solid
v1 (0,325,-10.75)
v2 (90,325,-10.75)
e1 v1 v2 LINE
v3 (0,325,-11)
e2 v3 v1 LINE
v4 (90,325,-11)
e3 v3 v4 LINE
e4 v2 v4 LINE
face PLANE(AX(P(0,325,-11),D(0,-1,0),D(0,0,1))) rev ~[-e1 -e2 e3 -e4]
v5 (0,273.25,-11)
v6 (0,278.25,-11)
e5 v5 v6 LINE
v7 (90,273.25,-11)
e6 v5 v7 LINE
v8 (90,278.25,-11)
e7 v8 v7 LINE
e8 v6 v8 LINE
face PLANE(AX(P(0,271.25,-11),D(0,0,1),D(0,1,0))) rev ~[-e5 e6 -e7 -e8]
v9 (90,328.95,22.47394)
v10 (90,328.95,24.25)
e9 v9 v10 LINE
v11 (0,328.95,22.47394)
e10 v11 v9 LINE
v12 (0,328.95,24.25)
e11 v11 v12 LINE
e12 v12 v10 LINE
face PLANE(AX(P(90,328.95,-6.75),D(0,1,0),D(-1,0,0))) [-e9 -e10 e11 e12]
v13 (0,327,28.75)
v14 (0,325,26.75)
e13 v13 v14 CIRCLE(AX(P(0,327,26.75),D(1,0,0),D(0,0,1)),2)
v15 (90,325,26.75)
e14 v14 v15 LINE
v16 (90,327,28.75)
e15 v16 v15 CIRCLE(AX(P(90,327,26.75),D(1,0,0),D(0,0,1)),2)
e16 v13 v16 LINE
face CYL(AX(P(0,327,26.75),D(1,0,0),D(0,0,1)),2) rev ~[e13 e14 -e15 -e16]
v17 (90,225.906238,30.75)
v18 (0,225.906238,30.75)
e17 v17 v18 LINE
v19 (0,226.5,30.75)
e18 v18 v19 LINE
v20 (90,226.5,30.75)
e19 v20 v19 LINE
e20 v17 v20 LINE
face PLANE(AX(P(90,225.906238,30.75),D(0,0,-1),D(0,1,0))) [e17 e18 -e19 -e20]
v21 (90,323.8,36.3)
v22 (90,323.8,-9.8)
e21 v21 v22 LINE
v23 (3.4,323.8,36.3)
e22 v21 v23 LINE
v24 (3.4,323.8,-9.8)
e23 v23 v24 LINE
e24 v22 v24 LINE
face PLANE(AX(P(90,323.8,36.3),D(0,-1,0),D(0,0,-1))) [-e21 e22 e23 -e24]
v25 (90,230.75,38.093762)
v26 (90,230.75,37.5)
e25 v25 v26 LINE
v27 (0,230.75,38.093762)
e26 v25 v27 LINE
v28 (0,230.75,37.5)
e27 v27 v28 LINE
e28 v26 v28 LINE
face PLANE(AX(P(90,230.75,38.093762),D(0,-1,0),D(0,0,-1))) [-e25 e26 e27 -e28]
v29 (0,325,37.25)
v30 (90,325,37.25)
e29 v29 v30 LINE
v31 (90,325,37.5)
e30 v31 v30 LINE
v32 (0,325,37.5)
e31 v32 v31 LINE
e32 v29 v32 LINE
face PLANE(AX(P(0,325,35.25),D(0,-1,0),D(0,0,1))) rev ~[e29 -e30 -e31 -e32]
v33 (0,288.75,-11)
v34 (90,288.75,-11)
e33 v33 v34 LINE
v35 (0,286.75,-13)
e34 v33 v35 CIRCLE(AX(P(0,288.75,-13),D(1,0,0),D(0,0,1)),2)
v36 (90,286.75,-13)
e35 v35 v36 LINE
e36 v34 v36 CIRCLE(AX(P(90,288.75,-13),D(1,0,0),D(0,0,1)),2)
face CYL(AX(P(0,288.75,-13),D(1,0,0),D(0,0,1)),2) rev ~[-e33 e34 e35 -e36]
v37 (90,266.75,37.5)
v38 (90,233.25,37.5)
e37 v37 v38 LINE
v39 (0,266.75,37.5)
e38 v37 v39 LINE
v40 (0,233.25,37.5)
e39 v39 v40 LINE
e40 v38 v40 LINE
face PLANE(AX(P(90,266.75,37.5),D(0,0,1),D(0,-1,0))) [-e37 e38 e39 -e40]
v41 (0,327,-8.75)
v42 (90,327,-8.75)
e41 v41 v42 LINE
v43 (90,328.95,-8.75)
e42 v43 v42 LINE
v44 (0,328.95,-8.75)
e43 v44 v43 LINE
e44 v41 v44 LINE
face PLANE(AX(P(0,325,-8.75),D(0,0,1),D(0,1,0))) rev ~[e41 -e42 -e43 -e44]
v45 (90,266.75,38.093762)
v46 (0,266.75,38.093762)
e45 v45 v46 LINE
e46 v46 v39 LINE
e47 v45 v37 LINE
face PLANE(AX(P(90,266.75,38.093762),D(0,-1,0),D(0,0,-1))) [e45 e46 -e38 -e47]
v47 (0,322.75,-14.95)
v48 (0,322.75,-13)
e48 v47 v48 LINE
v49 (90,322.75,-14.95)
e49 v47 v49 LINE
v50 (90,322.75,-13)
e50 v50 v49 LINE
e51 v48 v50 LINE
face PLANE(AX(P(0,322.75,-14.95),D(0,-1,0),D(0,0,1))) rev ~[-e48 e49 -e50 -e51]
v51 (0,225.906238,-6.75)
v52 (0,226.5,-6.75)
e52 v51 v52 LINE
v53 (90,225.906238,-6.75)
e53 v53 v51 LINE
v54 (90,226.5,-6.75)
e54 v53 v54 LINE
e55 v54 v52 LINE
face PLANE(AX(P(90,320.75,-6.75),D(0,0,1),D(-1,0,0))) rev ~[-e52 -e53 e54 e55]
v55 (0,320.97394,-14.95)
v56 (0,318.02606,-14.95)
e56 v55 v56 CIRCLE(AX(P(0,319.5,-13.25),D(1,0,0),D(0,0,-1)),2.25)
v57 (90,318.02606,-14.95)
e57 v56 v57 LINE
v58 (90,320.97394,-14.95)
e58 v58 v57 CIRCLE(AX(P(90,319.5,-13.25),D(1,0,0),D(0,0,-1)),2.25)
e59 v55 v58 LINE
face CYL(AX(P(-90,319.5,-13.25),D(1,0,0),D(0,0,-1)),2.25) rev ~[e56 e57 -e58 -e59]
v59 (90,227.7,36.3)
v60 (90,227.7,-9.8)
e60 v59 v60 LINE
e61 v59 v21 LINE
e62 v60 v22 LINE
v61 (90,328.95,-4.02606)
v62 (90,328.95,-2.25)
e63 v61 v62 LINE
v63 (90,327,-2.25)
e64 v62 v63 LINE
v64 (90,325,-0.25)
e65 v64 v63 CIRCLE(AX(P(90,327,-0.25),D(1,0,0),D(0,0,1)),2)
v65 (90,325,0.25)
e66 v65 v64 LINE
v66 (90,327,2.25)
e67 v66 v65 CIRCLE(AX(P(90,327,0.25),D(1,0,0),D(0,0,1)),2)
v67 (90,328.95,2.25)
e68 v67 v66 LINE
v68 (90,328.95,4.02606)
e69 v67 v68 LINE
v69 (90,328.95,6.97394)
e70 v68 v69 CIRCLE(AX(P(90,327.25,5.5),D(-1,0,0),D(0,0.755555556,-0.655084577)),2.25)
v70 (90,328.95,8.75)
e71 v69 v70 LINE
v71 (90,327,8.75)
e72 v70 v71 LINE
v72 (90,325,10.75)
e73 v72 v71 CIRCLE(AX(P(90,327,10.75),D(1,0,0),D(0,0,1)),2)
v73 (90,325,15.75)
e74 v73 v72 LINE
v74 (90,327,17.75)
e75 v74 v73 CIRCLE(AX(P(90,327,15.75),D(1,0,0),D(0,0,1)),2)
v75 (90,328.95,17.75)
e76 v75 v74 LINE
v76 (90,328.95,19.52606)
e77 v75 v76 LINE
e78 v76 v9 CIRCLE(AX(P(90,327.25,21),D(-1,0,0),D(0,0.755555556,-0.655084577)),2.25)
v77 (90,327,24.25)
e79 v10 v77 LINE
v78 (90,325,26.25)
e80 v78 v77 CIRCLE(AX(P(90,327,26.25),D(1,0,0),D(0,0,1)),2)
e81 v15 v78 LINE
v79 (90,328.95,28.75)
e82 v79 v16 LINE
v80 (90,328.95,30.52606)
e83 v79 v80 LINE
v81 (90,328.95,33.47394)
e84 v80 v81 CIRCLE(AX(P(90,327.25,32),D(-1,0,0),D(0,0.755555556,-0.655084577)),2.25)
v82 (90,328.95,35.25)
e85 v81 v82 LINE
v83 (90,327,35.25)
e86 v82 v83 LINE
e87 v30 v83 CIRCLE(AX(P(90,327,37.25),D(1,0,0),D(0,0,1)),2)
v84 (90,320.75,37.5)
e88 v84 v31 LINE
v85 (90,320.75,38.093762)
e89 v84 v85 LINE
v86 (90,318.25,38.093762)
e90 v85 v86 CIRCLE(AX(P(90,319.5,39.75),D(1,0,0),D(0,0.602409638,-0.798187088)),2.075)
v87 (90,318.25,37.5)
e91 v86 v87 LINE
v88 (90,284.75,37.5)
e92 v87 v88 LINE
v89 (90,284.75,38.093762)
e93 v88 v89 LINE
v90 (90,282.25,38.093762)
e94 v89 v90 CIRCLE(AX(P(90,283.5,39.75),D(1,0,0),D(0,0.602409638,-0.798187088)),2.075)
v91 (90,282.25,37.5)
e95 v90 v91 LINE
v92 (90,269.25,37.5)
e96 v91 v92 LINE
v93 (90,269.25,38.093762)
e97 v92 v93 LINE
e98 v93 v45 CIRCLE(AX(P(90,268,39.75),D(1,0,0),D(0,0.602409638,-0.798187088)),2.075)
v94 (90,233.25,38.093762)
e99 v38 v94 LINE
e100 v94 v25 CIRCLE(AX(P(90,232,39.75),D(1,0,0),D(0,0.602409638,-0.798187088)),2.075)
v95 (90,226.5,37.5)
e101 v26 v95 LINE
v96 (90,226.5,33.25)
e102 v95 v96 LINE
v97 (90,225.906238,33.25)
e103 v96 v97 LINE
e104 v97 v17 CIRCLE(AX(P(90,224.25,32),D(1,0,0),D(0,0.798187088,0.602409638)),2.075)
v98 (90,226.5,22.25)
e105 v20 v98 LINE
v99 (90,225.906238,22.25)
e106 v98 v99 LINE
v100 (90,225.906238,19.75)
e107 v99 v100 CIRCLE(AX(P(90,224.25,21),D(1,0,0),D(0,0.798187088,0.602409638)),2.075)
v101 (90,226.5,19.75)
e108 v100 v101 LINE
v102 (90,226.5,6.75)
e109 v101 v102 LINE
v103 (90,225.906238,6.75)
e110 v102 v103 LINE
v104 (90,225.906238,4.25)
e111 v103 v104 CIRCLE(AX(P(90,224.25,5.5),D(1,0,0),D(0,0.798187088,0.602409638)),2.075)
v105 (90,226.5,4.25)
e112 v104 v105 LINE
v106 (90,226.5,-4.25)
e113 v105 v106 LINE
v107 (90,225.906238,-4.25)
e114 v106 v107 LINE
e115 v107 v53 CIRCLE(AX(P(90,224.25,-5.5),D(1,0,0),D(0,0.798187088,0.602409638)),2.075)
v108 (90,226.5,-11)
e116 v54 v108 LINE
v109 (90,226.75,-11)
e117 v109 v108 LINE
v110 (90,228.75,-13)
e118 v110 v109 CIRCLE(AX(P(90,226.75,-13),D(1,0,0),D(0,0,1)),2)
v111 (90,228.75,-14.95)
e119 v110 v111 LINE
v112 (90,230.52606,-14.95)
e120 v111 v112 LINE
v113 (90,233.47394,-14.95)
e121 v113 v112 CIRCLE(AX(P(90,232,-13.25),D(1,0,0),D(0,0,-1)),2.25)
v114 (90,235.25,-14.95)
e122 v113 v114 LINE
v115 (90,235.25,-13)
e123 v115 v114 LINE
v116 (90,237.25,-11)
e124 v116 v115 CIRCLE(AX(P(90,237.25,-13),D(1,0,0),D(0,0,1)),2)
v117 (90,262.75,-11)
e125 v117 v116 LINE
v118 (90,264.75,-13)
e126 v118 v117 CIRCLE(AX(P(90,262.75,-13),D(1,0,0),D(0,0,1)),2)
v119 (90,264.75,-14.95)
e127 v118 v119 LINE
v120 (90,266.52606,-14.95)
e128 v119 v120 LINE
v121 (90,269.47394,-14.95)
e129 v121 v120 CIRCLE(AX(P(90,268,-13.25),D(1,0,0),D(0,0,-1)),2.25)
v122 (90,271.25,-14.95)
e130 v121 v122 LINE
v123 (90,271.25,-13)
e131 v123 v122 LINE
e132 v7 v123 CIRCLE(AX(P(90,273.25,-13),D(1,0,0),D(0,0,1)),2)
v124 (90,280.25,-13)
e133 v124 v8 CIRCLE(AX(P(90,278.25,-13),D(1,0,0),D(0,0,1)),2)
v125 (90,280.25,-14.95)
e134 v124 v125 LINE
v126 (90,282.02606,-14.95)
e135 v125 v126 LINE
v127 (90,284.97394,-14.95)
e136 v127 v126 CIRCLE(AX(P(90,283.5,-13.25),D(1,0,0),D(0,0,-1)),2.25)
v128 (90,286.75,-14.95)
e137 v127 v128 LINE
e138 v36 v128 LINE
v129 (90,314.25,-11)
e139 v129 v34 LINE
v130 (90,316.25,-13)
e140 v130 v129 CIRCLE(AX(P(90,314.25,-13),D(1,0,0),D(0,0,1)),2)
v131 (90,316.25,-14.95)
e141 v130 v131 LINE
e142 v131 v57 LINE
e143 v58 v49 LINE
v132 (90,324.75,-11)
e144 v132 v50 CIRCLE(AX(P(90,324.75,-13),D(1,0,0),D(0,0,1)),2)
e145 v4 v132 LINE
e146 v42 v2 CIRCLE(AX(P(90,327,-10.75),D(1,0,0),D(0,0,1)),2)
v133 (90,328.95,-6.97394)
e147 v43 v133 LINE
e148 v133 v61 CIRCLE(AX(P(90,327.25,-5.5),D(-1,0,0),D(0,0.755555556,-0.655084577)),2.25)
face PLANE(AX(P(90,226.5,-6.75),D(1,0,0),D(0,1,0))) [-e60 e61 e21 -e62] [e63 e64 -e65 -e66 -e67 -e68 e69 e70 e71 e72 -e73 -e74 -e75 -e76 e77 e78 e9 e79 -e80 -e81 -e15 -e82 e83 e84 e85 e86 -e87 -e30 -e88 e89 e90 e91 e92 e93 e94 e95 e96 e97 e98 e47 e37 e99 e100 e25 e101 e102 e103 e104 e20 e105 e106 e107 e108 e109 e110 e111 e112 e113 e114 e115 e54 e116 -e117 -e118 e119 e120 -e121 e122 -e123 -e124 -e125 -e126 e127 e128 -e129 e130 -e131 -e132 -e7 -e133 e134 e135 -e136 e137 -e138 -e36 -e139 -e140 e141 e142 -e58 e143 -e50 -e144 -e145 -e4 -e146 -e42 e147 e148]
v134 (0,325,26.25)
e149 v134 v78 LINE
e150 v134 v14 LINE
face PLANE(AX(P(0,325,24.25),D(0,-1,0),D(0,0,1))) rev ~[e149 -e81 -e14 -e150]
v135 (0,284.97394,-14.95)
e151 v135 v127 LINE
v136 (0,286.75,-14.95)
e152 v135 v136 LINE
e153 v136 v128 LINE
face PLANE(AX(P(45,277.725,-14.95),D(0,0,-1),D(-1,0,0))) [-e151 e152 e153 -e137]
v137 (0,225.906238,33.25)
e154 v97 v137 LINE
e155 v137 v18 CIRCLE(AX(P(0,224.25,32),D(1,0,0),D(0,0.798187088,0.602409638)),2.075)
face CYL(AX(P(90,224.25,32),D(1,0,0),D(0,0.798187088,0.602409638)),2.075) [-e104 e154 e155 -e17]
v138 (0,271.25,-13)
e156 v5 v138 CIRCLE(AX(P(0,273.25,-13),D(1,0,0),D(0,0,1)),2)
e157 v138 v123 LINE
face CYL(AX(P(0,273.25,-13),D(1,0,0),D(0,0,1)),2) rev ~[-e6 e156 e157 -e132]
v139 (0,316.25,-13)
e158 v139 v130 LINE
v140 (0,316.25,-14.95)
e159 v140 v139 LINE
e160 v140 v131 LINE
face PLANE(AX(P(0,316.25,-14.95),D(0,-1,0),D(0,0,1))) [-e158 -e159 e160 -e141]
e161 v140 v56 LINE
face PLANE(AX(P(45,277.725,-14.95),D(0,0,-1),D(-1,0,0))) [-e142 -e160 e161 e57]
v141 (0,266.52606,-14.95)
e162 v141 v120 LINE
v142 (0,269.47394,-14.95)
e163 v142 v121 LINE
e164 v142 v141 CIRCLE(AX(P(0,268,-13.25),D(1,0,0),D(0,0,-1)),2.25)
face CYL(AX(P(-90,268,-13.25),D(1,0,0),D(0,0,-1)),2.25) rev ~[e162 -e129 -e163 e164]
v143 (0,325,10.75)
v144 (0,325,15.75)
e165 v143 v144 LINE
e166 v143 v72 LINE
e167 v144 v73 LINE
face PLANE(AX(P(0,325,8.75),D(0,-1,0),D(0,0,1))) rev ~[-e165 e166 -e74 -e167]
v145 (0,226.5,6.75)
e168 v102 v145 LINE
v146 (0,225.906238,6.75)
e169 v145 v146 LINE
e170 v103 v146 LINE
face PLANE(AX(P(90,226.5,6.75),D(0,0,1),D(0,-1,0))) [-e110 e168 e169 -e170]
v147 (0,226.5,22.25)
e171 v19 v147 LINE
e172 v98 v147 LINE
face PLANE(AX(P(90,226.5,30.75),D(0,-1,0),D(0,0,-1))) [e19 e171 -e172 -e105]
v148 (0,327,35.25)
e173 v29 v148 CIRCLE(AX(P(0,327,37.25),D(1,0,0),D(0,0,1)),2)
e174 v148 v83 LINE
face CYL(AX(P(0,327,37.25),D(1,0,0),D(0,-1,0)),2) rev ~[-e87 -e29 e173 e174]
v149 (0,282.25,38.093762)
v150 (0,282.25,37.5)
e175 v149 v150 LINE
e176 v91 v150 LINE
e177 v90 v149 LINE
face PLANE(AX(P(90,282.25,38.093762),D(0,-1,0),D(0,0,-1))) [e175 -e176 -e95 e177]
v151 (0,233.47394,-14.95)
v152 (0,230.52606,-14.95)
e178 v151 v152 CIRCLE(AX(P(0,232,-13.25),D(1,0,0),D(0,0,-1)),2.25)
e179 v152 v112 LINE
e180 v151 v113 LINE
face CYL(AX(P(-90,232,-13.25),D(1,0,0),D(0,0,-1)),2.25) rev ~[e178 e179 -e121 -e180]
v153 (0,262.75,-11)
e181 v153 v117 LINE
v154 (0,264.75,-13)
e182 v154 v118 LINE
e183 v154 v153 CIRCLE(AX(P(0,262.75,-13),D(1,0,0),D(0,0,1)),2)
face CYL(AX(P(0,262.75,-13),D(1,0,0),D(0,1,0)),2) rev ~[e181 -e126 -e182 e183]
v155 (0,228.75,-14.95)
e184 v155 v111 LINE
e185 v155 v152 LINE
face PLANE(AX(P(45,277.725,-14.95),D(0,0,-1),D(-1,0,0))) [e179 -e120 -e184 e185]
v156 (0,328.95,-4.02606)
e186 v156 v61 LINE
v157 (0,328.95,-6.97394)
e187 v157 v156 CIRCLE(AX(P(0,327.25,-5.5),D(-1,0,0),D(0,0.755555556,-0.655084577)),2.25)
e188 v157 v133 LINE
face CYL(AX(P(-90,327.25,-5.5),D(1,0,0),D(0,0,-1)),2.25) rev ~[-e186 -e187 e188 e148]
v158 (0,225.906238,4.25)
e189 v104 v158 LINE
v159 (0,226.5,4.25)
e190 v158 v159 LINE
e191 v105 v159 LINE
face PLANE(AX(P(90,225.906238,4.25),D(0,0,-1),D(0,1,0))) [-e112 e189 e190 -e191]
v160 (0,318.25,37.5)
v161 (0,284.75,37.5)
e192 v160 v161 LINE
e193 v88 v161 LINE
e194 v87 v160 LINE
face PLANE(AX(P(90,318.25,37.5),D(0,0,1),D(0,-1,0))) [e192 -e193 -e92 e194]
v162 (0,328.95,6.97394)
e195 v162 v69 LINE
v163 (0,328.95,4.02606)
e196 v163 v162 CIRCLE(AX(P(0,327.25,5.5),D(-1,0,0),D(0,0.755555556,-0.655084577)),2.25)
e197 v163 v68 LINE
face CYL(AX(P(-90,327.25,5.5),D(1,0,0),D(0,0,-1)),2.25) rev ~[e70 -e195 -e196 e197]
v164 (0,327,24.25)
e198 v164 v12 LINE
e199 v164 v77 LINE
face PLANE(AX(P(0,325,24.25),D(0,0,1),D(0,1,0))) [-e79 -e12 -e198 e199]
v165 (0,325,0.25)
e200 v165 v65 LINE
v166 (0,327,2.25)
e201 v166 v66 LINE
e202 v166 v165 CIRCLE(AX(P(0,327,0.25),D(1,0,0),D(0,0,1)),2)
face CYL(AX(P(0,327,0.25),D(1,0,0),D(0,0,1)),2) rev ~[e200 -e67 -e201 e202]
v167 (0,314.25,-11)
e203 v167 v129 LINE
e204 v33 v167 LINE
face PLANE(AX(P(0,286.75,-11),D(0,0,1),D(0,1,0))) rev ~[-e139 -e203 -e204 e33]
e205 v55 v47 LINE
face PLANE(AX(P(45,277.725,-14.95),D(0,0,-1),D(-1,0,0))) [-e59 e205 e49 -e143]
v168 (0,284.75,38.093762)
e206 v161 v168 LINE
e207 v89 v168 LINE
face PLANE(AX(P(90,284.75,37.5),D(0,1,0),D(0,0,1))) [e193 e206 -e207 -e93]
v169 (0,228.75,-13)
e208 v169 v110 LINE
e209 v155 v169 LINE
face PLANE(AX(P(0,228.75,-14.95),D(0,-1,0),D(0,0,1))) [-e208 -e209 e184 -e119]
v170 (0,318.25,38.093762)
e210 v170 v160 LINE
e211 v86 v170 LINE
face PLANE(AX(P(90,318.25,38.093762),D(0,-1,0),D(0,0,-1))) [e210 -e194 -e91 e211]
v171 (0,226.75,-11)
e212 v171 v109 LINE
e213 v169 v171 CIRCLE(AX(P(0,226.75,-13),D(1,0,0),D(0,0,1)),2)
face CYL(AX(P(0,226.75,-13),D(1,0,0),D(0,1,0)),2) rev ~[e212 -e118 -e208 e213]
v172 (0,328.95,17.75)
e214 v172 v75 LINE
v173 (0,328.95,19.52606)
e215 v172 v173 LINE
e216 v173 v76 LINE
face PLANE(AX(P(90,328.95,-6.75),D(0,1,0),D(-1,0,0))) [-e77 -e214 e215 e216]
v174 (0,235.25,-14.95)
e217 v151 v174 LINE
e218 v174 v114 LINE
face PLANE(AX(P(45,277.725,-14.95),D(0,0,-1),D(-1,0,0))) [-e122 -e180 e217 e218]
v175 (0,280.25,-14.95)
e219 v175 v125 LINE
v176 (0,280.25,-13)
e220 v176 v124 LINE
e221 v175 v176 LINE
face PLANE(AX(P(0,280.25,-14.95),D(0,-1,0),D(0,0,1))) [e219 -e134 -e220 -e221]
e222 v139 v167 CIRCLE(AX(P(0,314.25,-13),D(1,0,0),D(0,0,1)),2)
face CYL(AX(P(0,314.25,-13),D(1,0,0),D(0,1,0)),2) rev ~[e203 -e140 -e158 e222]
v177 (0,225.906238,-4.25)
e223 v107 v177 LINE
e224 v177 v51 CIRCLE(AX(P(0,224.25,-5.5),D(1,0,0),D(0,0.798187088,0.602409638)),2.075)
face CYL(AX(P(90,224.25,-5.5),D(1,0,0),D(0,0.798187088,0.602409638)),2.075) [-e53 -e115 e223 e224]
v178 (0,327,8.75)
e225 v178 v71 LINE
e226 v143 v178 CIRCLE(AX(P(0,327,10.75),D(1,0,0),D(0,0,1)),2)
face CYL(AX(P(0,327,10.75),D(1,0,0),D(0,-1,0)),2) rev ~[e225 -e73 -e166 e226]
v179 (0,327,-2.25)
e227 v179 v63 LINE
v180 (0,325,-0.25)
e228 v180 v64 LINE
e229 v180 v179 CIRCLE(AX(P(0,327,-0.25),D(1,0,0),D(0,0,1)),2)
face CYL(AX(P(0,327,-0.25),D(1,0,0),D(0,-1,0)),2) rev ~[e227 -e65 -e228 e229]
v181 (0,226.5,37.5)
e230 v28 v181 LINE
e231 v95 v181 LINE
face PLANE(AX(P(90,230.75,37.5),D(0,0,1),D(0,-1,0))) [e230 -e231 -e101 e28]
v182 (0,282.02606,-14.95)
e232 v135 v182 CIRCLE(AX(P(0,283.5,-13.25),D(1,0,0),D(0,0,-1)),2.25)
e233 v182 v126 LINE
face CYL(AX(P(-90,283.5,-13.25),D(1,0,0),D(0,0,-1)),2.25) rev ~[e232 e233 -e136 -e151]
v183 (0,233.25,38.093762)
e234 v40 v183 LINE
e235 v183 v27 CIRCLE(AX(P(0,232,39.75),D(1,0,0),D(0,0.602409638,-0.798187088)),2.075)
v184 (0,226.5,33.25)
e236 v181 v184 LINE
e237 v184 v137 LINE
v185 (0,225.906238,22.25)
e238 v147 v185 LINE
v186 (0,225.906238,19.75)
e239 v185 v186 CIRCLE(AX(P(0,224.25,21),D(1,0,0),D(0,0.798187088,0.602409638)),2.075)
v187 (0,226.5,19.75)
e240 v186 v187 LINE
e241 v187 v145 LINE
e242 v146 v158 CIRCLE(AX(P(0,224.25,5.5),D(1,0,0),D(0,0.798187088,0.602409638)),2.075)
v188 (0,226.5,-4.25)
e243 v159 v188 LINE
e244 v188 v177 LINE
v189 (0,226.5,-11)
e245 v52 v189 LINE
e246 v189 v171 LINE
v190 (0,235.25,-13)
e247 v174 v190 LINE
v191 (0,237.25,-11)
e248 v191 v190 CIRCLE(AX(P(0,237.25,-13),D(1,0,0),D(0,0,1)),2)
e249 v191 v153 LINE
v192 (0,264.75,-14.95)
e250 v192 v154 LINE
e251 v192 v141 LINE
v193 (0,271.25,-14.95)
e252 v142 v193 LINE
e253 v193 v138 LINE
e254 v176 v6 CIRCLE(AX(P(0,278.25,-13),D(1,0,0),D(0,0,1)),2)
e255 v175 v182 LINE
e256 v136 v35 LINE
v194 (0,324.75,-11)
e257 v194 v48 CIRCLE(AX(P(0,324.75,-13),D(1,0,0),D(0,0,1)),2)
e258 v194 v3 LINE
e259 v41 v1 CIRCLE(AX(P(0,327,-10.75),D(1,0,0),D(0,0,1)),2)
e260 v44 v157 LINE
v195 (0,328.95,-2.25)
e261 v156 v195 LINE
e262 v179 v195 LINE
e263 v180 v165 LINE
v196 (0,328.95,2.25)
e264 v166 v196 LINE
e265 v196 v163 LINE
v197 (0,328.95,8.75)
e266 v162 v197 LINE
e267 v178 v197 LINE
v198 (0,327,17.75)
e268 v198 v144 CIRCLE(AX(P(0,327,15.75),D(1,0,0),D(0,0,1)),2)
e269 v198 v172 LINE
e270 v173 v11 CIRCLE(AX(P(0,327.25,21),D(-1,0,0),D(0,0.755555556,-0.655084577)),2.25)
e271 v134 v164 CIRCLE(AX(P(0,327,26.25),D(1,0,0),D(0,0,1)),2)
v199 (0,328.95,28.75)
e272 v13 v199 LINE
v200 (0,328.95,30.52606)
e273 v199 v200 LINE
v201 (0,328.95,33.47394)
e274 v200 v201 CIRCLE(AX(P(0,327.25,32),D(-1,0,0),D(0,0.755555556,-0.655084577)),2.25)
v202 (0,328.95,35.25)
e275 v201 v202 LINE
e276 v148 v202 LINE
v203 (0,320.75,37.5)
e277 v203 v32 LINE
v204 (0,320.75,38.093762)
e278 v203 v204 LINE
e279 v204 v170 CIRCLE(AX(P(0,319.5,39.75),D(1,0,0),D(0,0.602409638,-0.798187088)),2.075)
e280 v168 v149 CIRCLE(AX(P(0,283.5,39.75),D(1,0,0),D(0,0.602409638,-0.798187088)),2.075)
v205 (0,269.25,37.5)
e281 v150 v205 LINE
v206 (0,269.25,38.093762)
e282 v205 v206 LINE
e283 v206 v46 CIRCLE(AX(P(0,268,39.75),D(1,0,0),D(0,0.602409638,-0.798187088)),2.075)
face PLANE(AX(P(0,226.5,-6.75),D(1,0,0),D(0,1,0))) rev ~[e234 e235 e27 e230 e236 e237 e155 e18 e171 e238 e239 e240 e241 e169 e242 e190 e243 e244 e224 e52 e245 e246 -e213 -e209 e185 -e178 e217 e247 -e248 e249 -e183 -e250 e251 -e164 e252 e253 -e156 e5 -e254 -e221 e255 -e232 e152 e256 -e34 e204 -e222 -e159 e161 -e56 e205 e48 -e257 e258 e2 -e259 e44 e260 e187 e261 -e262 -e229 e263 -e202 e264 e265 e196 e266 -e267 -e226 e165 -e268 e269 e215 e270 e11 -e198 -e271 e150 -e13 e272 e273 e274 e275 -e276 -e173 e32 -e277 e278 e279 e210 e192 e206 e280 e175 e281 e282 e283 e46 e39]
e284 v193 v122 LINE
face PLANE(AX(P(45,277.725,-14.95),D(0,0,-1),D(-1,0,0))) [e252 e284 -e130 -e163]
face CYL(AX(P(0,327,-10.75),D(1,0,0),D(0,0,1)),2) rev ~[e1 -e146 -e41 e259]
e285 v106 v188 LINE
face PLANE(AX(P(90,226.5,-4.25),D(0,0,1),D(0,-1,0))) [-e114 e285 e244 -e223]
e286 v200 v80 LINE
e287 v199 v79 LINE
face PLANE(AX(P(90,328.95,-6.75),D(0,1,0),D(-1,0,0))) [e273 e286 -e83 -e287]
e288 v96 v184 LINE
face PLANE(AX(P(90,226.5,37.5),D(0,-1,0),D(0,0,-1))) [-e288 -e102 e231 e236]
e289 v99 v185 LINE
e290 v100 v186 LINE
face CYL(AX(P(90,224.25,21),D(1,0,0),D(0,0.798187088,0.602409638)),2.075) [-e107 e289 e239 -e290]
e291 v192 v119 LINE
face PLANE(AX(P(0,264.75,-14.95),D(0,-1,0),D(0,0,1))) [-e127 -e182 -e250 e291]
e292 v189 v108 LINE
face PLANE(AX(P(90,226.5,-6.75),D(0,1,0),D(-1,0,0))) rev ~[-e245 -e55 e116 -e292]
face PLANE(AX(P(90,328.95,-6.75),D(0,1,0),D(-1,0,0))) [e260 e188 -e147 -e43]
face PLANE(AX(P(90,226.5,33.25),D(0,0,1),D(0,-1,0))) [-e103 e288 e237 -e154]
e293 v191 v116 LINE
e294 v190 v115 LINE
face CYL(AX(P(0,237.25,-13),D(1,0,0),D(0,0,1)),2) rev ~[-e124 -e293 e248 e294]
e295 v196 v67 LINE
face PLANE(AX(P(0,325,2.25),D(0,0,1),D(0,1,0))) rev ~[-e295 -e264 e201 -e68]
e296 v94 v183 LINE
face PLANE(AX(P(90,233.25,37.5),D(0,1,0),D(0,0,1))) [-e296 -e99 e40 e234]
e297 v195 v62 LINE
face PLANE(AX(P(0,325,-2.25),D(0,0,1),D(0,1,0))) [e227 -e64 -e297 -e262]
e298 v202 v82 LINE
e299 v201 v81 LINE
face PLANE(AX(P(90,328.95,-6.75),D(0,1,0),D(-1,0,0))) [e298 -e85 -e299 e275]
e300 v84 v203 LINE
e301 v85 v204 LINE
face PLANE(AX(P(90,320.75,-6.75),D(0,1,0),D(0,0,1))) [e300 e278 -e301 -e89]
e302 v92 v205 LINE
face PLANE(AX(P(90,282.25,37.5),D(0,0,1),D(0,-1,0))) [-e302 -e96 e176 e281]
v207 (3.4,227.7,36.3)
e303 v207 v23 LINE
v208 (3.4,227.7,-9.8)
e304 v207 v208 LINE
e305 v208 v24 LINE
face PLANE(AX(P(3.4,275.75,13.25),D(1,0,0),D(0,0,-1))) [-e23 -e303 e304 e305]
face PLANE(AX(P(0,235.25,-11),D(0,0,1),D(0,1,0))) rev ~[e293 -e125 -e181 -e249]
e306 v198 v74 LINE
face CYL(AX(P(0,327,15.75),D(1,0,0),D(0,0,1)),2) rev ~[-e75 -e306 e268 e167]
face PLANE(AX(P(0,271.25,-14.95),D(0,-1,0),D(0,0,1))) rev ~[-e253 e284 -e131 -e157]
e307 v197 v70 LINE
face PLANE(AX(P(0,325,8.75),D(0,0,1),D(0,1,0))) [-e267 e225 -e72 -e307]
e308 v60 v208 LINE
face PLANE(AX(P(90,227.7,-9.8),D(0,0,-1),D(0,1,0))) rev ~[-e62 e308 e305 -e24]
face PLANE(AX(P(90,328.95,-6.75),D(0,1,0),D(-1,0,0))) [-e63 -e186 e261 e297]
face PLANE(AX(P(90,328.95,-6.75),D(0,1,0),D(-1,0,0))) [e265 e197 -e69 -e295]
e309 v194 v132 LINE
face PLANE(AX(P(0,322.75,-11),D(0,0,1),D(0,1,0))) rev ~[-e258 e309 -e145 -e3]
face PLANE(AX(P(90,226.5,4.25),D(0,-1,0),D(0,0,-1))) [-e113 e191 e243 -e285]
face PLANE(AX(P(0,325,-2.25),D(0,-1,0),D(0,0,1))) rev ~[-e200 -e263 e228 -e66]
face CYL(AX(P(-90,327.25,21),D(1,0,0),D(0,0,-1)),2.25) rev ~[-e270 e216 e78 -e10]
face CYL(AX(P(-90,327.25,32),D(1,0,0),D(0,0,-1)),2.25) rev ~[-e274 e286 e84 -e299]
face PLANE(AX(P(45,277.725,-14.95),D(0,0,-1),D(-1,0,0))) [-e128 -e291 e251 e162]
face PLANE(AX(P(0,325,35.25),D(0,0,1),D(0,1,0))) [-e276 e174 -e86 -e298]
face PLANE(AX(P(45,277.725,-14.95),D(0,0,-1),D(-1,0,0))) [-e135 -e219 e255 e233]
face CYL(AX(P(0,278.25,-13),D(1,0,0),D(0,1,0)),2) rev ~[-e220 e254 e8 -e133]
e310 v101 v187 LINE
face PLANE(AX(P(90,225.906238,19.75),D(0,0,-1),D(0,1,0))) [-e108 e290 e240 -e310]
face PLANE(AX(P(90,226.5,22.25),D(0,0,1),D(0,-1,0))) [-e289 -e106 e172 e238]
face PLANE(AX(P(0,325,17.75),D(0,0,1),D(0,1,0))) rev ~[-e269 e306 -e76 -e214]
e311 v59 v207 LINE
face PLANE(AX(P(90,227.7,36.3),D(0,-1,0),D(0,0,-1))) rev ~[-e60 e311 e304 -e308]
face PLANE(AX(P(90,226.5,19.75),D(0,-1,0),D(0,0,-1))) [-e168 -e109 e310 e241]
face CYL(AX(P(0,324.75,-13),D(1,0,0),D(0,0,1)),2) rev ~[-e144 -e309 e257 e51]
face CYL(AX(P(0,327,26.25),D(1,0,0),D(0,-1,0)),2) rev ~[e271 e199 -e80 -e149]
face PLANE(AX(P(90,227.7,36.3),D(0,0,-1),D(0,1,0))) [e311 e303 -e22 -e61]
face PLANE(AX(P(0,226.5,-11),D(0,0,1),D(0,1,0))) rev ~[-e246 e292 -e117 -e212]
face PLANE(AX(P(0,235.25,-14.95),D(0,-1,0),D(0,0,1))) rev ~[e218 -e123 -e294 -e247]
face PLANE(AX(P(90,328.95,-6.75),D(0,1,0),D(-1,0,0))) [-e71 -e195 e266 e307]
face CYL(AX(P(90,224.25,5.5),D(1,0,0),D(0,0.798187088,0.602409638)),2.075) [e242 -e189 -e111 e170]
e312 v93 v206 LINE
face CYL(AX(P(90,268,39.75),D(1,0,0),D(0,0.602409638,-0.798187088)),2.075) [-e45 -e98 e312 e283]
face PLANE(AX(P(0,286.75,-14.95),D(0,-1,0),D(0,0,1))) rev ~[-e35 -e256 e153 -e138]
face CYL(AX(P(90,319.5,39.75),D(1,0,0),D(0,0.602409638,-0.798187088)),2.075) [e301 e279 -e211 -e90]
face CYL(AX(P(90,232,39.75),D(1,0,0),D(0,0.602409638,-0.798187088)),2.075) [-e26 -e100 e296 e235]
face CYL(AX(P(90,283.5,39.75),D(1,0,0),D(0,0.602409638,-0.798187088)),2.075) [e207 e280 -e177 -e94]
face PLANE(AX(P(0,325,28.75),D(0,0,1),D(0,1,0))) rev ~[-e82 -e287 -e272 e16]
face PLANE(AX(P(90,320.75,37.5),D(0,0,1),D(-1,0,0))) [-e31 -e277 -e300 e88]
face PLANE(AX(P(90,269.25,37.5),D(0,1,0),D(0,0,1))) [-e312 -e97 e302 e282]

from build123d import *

# Parameters (mm, degrees)
EXTRUDE_1_DEPTH             = 90
SKETCH_2_W                  = 90
SKETCH_2_H                  = 44.25
EXTRUDE_2_DEPTH             = 8.2
SKETCH_3_W                  = 90
SKETCH_3_H                  = 102.45
EXTRUDE_3_DEPTH             = 8.2
SKETCH_4_W                  = 4.5
SKETCH_4_H                  = 3.95
CUT_EXTRUDE_1_DEPTH         = 91
SKETCH_5_W                  = 2.25
SKETCH_5_H                  = 3.95
CUT_EXTRUDE_2_DEPTH         = 91
SKETCH_6_W                  = 3.95
SKETCH_6_H                  = 2.25
CUT_EXTRUDE_3_DEPTH         = 91
SKETCH_7_W                  = 3.95
SKETCH_7_H                  = 29.5
CUT_EXTRUDE_4_DEPTH         = 91
SKETCH_8_W                  = 3.95
SKETCH_8_H                  = 9
CUT_EXTRUDE_5_DEPTH         = 91
SKETCH_9_W                  = 3.95
SKETCH_9_H                  = 29.5
CUT_EXTRUDE_6_DEPTH         = 91
SKETCH_10_W                 = 3.95
SKETCH_10_H                 = 6.2
CUT_EXTRUDE_7_DEPTH         = 91
SKETCH_11_W                 = 2.25
SKETCH_11_H                 = 3.95
CUT_EXTRUDE_8_DEPTH         = 91
SKETCH_12_W                 = 4.5
SKETCH_12_H                 = 3.95
CUT_EXTRUDE_9_DEPTH         = 91
SKETCH_13_W                 = 9
SKETCH_13_H                 = 3.95
CUT_EXTRUDE_10_DEPTH        = 91
SKETCH_14_W                 = 46.1
SKETCH_14_H                 = 96.1
CUT_EXTRUDE_11_DEPTH        = 86.6
HOLE_WIZARD_2_5_2_5_1_D     = 2.5
HOLE_WIZARD_2_5_2_5_1_DEPTH = 90
HOLE_WIZARD_4_5_4_5_1_D     = 4.5
HOLE_WIZARD_4_5_4_5_1_DEPTH = 90
SKETCH_22_R                 = 1.631577579
SKETCH_22_R_2               = 1.519375383
SKETCH_22_R_3               = 1.487580747
SKETCH_22_R_4               = 1.581735942
SKETCH_22_R_5               = 1.487835557
SKETCH_22_R_6               = 1.42600834
SKETCH_22_R_7               = 1.628129915
SKETCH_22_R_8               = 1.52367125
EXTRUDE_4_DEPTH             = 90
FILLET_5_R                  = 2
FILLET_6_R                  = 2
FILLET_7_R                  = 2
FILLET_8_R                  = 2
FILLET_9_R                  = 2
FILLET_10_R                 = 2
FILLET_11_R                 = 2
FILLET_12_R                 = 2
FILLET_13_R                 = 2
FILLET_14_R                 = 2
FILLET_15_R                 = 2
FILLET_16_R                 = 2
FILLET_17_R                 = 2
FILLET_18_R                 = 2
FILLET_19_R                 = 2
FILLET_20_R                 = 2


with BuildPart() as part:
    # Эскиз1 → Бобышка-Вытянуть1 (new body)
    with BuildSketch(Plane(origin=(90, 0, 0), x_dir=(0, 0, -1), z_dir=(1, 0, 0))):
        with BuildLine():
            Line((6.75, 225.906238208), (6.75, 320.75))
            Line((6.75, 320.75), (-38.093761792, 320.75))
            ThreePointArc((-38.093761792, 320.75), (-41.825, 319.5), (-38.093761792, 318.25))
            Line((-38.093761792, 318.25), (-37.5, 318.25))
            Line((-37.5, 318.25), (-37.5, 284.75))
            Line((-37.5, 284.75), (-38.093761792, 284.75))
            ThreePointArc((-38.093761792, 284.75), (-41.825, 283.5), (-38.093761792, 282.25))
            Line((-38.093761792, 282.25), (-37.5, 282.25))
            Line((-37.5, 282.25), (-37.5, 269.25))
            Line((-37.5, 269.25), (-38.093761792, 269.25))
            ThreePointArc((-38.093761792, 269.25), (-41.825, 268), (-38.093761792, 266.75))
            Line((-38.093761792, 266.75), (-37.5, 266.75))
            Line((-37.5, 266.75), (-37.5, 233.25))
            Line((-37.5, 233.25), (-38.093761792, 233.25))
            ThreePointArc((-38.093761792, 233.25), (-41.825, 232), (-38.093761792, 230.75))
            Line((-38.093761792, 230.75), (-37.5, 230.75))
            Line((-37.5, 230.75), (-37.5, 226.5))
            Line((-37.5, 226.5), (-33.25, 226.5))
            Line((-33.25, 226.5), (-33.25, 225.906238208))
            ThreePointArc((-33.25, 225.906238208), (-32, 222.175), (-30.75, 225.906238208))
            Line((-30.75, 225.906238208), (-30.75, 226.5))
            Line((-30.75, 226.5), (-22.25, 226.5))
            Line((-22.25, 226.5), (-22.25, 225.906238208))
            ThreePointArc((-22.25, 225.906238208), (-21, 222.175), (-19.75, 225.906238208))
            Line((-19.75, 225.906238208), (-19.75, 226.5))
            Line((-19.75, 226.5), (-6.75, 226.5))
            Line((-6.75, 226.5), (-6.75, 225.906238208))
            ThreePointArc((-6.75, 225.906238208), (-5.5, 222.175), (-4.25, 225.906238208))
            Line((-4.25, 225.906238208), (-4.25, 226.5))
            Line((-4.25, 226.5), (4.25, 226.5))
            Line((4.25, 226.5), (4.25, 225.906238208))
            ThreePointArc((4.25, 225.906238208), (5.5, 222.175), (6.75, 225.906238208))
        make_face()
    extrude(amount=-EXTRUDE_1_DEPTH)

    # Эскиз2 → Бобышка-Вытянуть2 (add)
    with BuildSketch(Plane(origin=(0, 320.75, 0), x_dir=(-1, 0, 0), z_dir=(0, 1, 0))):
        with Locations((-45, 15.375)):
            Rectangle(SKETCH_2_W, SKETCH_2_H)
    extrude(amount=EXTRUDE_2_DEPTH)

    # Эскиз3 → Бобышка-Вытянуть3 (add)
    with BuildSketch(Plane(origin=(0, 0, -6.75), x_dir=(-1, 0, 0), z_dir=(0, 0, -1))):
        with Locations((-45, 277.725)):
            Rectangle(SKETCH_3_W, SKETCH_3_H)
    extrude(amount=EXTRUDE_3_DEPTH)

    # Эскиз4 → Вырез-Вытянуть1 (cut, through all)
    with BuildSketch(Plane.ZY):
        with Locations((26.5, 326.975)):
            Rectangle(SKETCH_4_W, SKETCH_4_H)
    extrude(amount=-CUT_EXTRUDE_1_DEPTH, mode=Mode.SUBTRACT)

    # Эскиз5 → Вырез-Вытянуть2 (cut, through all)
    with BuildSketch(Plane.ZY):
        with Locations((36.375, 326.975)):
            Rectangle(SKETCH_5_W, SKETCH_5_H)
    extrude(amount=-CUT_EXTRUDE_2_DEPTH, mode=Mode.SUBTRACT)

    # Эскиз6 → Вырез-Вытянуть3 (cut, through all)
    with BuildSketch(Plane.ZY):
        with Locations((-12.975, 227.625)):
            Rectangle(SKETCH_6_W, SKETCH_6_H)
    extrude(amount=-CUT_EXTRUDE_3_DEPTH, mode=Mode.SUBTRACT)

    # Эскиз7 → Вырез-Вытянуть4 (cut, through all)
    with BuildSketch(Plane.ZY):
        with Locations((-12.975, 250)):
            Rectangle(SKETCH_7_W, SKETCH_7_H)
    extrude(amount=-CUT_EXTRUDE_4_DEPTH, mode=Mode.SUBTRACT)

    # Эскиз8 → Вырез-Вытянуть5 (cut, through all)
    with BuildSketch(Plane.ZY):
        with Locations((-12.975, 275.75)):
            Rectangle(SKETCH_8_W, SKETCH_8_H)
    extrude(amount=-CUT_EXTRUDE_5_DEPTH, mode=Mode.SUBTRACT)

    # Эскиз9 → Вырез-Вытянуть6 (cut, through all)
    with BuildSketch(Plane.ZY):
        with Locations((-12.975, 301.5)):
            Rectangle(SKETCH_9_W, SKETCH_9_H)
    extrude(amount=-CUT_EXTRUDE_6_DEPTH, mode=Mode.SUBTRACT)

    # Эскиз10 → Вырез-Вытянуть7 (cut, through all)
    with BuildSketch(Plane.ZY):
        with Locations((-12.975, 325.85)):
            Rectangle(SKETCH_10_W, SKETCH_10_H)
    extrude(amount=-CUT_EXTRUDE_7_DEPTH, mode=Mode.SUBTRACT)

    # Эскиз11 → Вырез-Вытянуть8 (cut, through all)
    with BuildSketch(Plane.ZY):
        with Locations((-9.875, 326.975)):
            Rectangle(SKETCH_11_W, SKETCH_11_H)
    extrude(amount=-CUT_EXTRUDE_8_DEPTH, mode=Mode.SUBTRACT)

    # Эскиз12 → Вырез-Вытянуть9 (cut, through all)
    with BuildSketch(Plane.ZY):
        with Locations((0, 326.975)):
            Rectangle(SKETCH_12_W, SKETCH_12_H)
    extrude(amount=-CUT_EXTRUDE_9_DEPTH, mode=Mode.SUBTRACT)

    # Эскиз13 → Вырез-Вытянуть10 (cut, through all)
    with BuildSketch(Plane.ZY):
        with Locations((13.25, 326.975)):
            Rectangle(SKETCH_13_W, SKETCH_13_H)
    extrude(amount=-CUT_EXTRUDE_10_DEPTH, mode=Mode.SUBTRACT)

    # Эскиз14 → Вырез-Вытянуть11 (cut)
    with BuildSketch(Plane(origin=(90, 0, 0), x_dir=(0, 0, -1), z_dir=(1, 0, 0))):
        with Locations((-13.25, 275.75)):
            Rectangle(SKETCH_14_W, SKETCH_14_H)
    extrude(amount=-CUT_EXTRUDE_11_DEPTH, mode=Mode.SUBTRACT)

    # Диаметр отверстия Ø2.5 (2.5)1
    with Locations(Plane(origin=(90, 0, 0), x_dir=(0, 0, -1), z_dir=(1, 0, 0))):
        with Locations((-39.75, 232), (-21, 224.25), (-39.75, 283.5), (-5.5, 224.25), (5.5, 224.25), (-39.75, 319.5), (-39.75, 268), (-32, 224.25)):
            Hole(HOLE_WIZARD_2_5_2_5_1_D / 2, depth=HOLE_WIZARD_2_5_2_5_1_DEPTH)

    # Диаметр отверстия Ø4.5 (4.5)1
    with Locations(Plane.ZY):
        with Locations((21, 327.25), (32, 327.25), (-13.25, 232), (-13.25, 268), (-13.25, 283.5), (-13.25, 319.5), (-5.5, 327.25), (5.5, 327.25)):
            Hole(HOLE_WIZARD_4_5_4_5_1_D / 2, depth=HOLE_WIZARD_4_5_4_5_1_DEPTH)

    # Эскиз22 → Бобышка-Вытянуть4 (add)
    with BuildSketch(Plane(origin=(90, 0, 0), x_dir=(0, 0, -1), z_dir=(1, 0, 0))):
        with Locations((-39.75, 319.5)):
            Circle(SKETCH_22_R)
        with Locations((-39.75, 283.5)):
            Circle(SKETCH_22_R_2)
        with Locations((-39.75, 268)):
            Circle(SKETCH_22_R_3)
        with Locations((-39.75, 232)):
            Circle(SKETCH_22_R_4)
        with Locations((-32, 224.25)):
            Circle(SKETCH_22_R_5)
        with Locations((-21, 224.25)):
            Circle(SKETCH_22_R_6)
        with Locations((-5.5, 224.25)):
            Circle(SKETCH_22_R_7)
        with Locations((5.5, 224.25)):
            Circle(SKETCH_22_R_8)
    extrude(amount=-EXTRUDE_4_DEPTH)

    # Скругление5
    fillet_5_edges = [part.edges().sort_by_distance(p)[0] for p in [
        (45, 325, 35.25),
    ]]
    fillet(fillet_5_edges, radius=FILLET_5_R)

    # Скругление6
    fillet_6_edges = [part.edges().sort_by_distance(p)[0] for p in [
        (45, 325, 28.75),
    ]]
    fillet(fillet_6_edges, radius=FILLET_6_R)

    # Скругление7
    fillet_7_edges = [part.edges().sort_by_distance(p)[0] for p in [
        (45, 325, 24.25),
    ]]
    fillet(fillet_7_edges, radius=FILLET_7_R)

    # Скругление8
    fillet_8_edges = [part.edges().sort_by_distance(p)[0] for p in [
        (45, 325, 17.75),
    ]]
    fillet(fillet_8_edges, radius=FILLET_8_R)

    # Скругление9
    fillet_9_edges = [part.edges().sort_by_distance(p)[0] for p in [
        (45, 325, 8.75),
    ]]
    fillet(fillet_9_edges, radius=FILLET_9_R)

    # Скругление10
    fillet_10_edges = [part.edges().sort_by_distance(p)[0] for p in [
        (45, 325, 2.25),
    ]]
    fillet(fillet_10_edges, radius=FILLET_10_R)

    # Скругление11
    fillet_11_edges = [part.edges().sort_by_distance(p)[0] for p in [
        (45, 325, -2.25),
    ]]
    fillet(fillet_11_edges, radius=FILLET_11_R)

    # Скругление12
    fillet_12_edges = [part.edges().sort_by_distance(p)[0] for p in [
        (45, 325, -8.75),
    ]]
    fillet(fillet_12_edges, radius=FILLET_12_R)

    # Скругление13
    fillet_13_edges = [part.edges().sort_by_distance(p)[0] for p in [
        (45, 322.75, -11),
    ]]
    fillet(fillet_13_edges, radius=FILLET_13_R)

    # Скругление14
    fillet_14_edges = [part.edges().sort_by_distance(p)[0] for p in [
        (45, 316.25, -11),
    ]]
    fillet(fillet_14_edges, radius=FILLET_14_R)

    # Скругление15
    fillet_15_edges = [part.edges().sort_by_distance(p)[0] for p in [
        (45, 286.75, -11),
    ]]
    fillet(fillet_15_edges, radius=FILLET_15_R)

    # Скругление16
    fillet_16_edges = [part.edges().sort_by_distance(p)[0] for p in [
        (45, 280.25, -11),
    ]]
    fillet(fillet_16_edges, radius=FILLET_16_R)

    # Скругление17
    fillet_17_edges = [part.edges().sort_by_distance(p)[0] for p in [
        (45, 271.25, -11),
    ]]
    fillet(fillet_17_edges, radius=FILLET_17_R)

    # Скругление18
    fillet_18_edges = [part.edges().sort_by_distance(p)[0] for p in [
        (45, 264.75, -11),
    ]]
    fillet(fillet_18_edges, radius=FILLET_18_R)

    # Скругление19
    fillet_19_edges = [part.edges().sort_by_distance(p)[0] for p in [
        (45, 235.25, -11),
    ]]
    fillet(fillet_19_edges, radius=FILLET_19_R)

    # Скругление20
    fillet_20_edges = [part.edges().sort_by_distance(p)[0] for p in [
        (45, 228.75, -11),
    ]]
    fillet(fillet_20_edges, radius=FILLET_20_R)


solid = part.part
